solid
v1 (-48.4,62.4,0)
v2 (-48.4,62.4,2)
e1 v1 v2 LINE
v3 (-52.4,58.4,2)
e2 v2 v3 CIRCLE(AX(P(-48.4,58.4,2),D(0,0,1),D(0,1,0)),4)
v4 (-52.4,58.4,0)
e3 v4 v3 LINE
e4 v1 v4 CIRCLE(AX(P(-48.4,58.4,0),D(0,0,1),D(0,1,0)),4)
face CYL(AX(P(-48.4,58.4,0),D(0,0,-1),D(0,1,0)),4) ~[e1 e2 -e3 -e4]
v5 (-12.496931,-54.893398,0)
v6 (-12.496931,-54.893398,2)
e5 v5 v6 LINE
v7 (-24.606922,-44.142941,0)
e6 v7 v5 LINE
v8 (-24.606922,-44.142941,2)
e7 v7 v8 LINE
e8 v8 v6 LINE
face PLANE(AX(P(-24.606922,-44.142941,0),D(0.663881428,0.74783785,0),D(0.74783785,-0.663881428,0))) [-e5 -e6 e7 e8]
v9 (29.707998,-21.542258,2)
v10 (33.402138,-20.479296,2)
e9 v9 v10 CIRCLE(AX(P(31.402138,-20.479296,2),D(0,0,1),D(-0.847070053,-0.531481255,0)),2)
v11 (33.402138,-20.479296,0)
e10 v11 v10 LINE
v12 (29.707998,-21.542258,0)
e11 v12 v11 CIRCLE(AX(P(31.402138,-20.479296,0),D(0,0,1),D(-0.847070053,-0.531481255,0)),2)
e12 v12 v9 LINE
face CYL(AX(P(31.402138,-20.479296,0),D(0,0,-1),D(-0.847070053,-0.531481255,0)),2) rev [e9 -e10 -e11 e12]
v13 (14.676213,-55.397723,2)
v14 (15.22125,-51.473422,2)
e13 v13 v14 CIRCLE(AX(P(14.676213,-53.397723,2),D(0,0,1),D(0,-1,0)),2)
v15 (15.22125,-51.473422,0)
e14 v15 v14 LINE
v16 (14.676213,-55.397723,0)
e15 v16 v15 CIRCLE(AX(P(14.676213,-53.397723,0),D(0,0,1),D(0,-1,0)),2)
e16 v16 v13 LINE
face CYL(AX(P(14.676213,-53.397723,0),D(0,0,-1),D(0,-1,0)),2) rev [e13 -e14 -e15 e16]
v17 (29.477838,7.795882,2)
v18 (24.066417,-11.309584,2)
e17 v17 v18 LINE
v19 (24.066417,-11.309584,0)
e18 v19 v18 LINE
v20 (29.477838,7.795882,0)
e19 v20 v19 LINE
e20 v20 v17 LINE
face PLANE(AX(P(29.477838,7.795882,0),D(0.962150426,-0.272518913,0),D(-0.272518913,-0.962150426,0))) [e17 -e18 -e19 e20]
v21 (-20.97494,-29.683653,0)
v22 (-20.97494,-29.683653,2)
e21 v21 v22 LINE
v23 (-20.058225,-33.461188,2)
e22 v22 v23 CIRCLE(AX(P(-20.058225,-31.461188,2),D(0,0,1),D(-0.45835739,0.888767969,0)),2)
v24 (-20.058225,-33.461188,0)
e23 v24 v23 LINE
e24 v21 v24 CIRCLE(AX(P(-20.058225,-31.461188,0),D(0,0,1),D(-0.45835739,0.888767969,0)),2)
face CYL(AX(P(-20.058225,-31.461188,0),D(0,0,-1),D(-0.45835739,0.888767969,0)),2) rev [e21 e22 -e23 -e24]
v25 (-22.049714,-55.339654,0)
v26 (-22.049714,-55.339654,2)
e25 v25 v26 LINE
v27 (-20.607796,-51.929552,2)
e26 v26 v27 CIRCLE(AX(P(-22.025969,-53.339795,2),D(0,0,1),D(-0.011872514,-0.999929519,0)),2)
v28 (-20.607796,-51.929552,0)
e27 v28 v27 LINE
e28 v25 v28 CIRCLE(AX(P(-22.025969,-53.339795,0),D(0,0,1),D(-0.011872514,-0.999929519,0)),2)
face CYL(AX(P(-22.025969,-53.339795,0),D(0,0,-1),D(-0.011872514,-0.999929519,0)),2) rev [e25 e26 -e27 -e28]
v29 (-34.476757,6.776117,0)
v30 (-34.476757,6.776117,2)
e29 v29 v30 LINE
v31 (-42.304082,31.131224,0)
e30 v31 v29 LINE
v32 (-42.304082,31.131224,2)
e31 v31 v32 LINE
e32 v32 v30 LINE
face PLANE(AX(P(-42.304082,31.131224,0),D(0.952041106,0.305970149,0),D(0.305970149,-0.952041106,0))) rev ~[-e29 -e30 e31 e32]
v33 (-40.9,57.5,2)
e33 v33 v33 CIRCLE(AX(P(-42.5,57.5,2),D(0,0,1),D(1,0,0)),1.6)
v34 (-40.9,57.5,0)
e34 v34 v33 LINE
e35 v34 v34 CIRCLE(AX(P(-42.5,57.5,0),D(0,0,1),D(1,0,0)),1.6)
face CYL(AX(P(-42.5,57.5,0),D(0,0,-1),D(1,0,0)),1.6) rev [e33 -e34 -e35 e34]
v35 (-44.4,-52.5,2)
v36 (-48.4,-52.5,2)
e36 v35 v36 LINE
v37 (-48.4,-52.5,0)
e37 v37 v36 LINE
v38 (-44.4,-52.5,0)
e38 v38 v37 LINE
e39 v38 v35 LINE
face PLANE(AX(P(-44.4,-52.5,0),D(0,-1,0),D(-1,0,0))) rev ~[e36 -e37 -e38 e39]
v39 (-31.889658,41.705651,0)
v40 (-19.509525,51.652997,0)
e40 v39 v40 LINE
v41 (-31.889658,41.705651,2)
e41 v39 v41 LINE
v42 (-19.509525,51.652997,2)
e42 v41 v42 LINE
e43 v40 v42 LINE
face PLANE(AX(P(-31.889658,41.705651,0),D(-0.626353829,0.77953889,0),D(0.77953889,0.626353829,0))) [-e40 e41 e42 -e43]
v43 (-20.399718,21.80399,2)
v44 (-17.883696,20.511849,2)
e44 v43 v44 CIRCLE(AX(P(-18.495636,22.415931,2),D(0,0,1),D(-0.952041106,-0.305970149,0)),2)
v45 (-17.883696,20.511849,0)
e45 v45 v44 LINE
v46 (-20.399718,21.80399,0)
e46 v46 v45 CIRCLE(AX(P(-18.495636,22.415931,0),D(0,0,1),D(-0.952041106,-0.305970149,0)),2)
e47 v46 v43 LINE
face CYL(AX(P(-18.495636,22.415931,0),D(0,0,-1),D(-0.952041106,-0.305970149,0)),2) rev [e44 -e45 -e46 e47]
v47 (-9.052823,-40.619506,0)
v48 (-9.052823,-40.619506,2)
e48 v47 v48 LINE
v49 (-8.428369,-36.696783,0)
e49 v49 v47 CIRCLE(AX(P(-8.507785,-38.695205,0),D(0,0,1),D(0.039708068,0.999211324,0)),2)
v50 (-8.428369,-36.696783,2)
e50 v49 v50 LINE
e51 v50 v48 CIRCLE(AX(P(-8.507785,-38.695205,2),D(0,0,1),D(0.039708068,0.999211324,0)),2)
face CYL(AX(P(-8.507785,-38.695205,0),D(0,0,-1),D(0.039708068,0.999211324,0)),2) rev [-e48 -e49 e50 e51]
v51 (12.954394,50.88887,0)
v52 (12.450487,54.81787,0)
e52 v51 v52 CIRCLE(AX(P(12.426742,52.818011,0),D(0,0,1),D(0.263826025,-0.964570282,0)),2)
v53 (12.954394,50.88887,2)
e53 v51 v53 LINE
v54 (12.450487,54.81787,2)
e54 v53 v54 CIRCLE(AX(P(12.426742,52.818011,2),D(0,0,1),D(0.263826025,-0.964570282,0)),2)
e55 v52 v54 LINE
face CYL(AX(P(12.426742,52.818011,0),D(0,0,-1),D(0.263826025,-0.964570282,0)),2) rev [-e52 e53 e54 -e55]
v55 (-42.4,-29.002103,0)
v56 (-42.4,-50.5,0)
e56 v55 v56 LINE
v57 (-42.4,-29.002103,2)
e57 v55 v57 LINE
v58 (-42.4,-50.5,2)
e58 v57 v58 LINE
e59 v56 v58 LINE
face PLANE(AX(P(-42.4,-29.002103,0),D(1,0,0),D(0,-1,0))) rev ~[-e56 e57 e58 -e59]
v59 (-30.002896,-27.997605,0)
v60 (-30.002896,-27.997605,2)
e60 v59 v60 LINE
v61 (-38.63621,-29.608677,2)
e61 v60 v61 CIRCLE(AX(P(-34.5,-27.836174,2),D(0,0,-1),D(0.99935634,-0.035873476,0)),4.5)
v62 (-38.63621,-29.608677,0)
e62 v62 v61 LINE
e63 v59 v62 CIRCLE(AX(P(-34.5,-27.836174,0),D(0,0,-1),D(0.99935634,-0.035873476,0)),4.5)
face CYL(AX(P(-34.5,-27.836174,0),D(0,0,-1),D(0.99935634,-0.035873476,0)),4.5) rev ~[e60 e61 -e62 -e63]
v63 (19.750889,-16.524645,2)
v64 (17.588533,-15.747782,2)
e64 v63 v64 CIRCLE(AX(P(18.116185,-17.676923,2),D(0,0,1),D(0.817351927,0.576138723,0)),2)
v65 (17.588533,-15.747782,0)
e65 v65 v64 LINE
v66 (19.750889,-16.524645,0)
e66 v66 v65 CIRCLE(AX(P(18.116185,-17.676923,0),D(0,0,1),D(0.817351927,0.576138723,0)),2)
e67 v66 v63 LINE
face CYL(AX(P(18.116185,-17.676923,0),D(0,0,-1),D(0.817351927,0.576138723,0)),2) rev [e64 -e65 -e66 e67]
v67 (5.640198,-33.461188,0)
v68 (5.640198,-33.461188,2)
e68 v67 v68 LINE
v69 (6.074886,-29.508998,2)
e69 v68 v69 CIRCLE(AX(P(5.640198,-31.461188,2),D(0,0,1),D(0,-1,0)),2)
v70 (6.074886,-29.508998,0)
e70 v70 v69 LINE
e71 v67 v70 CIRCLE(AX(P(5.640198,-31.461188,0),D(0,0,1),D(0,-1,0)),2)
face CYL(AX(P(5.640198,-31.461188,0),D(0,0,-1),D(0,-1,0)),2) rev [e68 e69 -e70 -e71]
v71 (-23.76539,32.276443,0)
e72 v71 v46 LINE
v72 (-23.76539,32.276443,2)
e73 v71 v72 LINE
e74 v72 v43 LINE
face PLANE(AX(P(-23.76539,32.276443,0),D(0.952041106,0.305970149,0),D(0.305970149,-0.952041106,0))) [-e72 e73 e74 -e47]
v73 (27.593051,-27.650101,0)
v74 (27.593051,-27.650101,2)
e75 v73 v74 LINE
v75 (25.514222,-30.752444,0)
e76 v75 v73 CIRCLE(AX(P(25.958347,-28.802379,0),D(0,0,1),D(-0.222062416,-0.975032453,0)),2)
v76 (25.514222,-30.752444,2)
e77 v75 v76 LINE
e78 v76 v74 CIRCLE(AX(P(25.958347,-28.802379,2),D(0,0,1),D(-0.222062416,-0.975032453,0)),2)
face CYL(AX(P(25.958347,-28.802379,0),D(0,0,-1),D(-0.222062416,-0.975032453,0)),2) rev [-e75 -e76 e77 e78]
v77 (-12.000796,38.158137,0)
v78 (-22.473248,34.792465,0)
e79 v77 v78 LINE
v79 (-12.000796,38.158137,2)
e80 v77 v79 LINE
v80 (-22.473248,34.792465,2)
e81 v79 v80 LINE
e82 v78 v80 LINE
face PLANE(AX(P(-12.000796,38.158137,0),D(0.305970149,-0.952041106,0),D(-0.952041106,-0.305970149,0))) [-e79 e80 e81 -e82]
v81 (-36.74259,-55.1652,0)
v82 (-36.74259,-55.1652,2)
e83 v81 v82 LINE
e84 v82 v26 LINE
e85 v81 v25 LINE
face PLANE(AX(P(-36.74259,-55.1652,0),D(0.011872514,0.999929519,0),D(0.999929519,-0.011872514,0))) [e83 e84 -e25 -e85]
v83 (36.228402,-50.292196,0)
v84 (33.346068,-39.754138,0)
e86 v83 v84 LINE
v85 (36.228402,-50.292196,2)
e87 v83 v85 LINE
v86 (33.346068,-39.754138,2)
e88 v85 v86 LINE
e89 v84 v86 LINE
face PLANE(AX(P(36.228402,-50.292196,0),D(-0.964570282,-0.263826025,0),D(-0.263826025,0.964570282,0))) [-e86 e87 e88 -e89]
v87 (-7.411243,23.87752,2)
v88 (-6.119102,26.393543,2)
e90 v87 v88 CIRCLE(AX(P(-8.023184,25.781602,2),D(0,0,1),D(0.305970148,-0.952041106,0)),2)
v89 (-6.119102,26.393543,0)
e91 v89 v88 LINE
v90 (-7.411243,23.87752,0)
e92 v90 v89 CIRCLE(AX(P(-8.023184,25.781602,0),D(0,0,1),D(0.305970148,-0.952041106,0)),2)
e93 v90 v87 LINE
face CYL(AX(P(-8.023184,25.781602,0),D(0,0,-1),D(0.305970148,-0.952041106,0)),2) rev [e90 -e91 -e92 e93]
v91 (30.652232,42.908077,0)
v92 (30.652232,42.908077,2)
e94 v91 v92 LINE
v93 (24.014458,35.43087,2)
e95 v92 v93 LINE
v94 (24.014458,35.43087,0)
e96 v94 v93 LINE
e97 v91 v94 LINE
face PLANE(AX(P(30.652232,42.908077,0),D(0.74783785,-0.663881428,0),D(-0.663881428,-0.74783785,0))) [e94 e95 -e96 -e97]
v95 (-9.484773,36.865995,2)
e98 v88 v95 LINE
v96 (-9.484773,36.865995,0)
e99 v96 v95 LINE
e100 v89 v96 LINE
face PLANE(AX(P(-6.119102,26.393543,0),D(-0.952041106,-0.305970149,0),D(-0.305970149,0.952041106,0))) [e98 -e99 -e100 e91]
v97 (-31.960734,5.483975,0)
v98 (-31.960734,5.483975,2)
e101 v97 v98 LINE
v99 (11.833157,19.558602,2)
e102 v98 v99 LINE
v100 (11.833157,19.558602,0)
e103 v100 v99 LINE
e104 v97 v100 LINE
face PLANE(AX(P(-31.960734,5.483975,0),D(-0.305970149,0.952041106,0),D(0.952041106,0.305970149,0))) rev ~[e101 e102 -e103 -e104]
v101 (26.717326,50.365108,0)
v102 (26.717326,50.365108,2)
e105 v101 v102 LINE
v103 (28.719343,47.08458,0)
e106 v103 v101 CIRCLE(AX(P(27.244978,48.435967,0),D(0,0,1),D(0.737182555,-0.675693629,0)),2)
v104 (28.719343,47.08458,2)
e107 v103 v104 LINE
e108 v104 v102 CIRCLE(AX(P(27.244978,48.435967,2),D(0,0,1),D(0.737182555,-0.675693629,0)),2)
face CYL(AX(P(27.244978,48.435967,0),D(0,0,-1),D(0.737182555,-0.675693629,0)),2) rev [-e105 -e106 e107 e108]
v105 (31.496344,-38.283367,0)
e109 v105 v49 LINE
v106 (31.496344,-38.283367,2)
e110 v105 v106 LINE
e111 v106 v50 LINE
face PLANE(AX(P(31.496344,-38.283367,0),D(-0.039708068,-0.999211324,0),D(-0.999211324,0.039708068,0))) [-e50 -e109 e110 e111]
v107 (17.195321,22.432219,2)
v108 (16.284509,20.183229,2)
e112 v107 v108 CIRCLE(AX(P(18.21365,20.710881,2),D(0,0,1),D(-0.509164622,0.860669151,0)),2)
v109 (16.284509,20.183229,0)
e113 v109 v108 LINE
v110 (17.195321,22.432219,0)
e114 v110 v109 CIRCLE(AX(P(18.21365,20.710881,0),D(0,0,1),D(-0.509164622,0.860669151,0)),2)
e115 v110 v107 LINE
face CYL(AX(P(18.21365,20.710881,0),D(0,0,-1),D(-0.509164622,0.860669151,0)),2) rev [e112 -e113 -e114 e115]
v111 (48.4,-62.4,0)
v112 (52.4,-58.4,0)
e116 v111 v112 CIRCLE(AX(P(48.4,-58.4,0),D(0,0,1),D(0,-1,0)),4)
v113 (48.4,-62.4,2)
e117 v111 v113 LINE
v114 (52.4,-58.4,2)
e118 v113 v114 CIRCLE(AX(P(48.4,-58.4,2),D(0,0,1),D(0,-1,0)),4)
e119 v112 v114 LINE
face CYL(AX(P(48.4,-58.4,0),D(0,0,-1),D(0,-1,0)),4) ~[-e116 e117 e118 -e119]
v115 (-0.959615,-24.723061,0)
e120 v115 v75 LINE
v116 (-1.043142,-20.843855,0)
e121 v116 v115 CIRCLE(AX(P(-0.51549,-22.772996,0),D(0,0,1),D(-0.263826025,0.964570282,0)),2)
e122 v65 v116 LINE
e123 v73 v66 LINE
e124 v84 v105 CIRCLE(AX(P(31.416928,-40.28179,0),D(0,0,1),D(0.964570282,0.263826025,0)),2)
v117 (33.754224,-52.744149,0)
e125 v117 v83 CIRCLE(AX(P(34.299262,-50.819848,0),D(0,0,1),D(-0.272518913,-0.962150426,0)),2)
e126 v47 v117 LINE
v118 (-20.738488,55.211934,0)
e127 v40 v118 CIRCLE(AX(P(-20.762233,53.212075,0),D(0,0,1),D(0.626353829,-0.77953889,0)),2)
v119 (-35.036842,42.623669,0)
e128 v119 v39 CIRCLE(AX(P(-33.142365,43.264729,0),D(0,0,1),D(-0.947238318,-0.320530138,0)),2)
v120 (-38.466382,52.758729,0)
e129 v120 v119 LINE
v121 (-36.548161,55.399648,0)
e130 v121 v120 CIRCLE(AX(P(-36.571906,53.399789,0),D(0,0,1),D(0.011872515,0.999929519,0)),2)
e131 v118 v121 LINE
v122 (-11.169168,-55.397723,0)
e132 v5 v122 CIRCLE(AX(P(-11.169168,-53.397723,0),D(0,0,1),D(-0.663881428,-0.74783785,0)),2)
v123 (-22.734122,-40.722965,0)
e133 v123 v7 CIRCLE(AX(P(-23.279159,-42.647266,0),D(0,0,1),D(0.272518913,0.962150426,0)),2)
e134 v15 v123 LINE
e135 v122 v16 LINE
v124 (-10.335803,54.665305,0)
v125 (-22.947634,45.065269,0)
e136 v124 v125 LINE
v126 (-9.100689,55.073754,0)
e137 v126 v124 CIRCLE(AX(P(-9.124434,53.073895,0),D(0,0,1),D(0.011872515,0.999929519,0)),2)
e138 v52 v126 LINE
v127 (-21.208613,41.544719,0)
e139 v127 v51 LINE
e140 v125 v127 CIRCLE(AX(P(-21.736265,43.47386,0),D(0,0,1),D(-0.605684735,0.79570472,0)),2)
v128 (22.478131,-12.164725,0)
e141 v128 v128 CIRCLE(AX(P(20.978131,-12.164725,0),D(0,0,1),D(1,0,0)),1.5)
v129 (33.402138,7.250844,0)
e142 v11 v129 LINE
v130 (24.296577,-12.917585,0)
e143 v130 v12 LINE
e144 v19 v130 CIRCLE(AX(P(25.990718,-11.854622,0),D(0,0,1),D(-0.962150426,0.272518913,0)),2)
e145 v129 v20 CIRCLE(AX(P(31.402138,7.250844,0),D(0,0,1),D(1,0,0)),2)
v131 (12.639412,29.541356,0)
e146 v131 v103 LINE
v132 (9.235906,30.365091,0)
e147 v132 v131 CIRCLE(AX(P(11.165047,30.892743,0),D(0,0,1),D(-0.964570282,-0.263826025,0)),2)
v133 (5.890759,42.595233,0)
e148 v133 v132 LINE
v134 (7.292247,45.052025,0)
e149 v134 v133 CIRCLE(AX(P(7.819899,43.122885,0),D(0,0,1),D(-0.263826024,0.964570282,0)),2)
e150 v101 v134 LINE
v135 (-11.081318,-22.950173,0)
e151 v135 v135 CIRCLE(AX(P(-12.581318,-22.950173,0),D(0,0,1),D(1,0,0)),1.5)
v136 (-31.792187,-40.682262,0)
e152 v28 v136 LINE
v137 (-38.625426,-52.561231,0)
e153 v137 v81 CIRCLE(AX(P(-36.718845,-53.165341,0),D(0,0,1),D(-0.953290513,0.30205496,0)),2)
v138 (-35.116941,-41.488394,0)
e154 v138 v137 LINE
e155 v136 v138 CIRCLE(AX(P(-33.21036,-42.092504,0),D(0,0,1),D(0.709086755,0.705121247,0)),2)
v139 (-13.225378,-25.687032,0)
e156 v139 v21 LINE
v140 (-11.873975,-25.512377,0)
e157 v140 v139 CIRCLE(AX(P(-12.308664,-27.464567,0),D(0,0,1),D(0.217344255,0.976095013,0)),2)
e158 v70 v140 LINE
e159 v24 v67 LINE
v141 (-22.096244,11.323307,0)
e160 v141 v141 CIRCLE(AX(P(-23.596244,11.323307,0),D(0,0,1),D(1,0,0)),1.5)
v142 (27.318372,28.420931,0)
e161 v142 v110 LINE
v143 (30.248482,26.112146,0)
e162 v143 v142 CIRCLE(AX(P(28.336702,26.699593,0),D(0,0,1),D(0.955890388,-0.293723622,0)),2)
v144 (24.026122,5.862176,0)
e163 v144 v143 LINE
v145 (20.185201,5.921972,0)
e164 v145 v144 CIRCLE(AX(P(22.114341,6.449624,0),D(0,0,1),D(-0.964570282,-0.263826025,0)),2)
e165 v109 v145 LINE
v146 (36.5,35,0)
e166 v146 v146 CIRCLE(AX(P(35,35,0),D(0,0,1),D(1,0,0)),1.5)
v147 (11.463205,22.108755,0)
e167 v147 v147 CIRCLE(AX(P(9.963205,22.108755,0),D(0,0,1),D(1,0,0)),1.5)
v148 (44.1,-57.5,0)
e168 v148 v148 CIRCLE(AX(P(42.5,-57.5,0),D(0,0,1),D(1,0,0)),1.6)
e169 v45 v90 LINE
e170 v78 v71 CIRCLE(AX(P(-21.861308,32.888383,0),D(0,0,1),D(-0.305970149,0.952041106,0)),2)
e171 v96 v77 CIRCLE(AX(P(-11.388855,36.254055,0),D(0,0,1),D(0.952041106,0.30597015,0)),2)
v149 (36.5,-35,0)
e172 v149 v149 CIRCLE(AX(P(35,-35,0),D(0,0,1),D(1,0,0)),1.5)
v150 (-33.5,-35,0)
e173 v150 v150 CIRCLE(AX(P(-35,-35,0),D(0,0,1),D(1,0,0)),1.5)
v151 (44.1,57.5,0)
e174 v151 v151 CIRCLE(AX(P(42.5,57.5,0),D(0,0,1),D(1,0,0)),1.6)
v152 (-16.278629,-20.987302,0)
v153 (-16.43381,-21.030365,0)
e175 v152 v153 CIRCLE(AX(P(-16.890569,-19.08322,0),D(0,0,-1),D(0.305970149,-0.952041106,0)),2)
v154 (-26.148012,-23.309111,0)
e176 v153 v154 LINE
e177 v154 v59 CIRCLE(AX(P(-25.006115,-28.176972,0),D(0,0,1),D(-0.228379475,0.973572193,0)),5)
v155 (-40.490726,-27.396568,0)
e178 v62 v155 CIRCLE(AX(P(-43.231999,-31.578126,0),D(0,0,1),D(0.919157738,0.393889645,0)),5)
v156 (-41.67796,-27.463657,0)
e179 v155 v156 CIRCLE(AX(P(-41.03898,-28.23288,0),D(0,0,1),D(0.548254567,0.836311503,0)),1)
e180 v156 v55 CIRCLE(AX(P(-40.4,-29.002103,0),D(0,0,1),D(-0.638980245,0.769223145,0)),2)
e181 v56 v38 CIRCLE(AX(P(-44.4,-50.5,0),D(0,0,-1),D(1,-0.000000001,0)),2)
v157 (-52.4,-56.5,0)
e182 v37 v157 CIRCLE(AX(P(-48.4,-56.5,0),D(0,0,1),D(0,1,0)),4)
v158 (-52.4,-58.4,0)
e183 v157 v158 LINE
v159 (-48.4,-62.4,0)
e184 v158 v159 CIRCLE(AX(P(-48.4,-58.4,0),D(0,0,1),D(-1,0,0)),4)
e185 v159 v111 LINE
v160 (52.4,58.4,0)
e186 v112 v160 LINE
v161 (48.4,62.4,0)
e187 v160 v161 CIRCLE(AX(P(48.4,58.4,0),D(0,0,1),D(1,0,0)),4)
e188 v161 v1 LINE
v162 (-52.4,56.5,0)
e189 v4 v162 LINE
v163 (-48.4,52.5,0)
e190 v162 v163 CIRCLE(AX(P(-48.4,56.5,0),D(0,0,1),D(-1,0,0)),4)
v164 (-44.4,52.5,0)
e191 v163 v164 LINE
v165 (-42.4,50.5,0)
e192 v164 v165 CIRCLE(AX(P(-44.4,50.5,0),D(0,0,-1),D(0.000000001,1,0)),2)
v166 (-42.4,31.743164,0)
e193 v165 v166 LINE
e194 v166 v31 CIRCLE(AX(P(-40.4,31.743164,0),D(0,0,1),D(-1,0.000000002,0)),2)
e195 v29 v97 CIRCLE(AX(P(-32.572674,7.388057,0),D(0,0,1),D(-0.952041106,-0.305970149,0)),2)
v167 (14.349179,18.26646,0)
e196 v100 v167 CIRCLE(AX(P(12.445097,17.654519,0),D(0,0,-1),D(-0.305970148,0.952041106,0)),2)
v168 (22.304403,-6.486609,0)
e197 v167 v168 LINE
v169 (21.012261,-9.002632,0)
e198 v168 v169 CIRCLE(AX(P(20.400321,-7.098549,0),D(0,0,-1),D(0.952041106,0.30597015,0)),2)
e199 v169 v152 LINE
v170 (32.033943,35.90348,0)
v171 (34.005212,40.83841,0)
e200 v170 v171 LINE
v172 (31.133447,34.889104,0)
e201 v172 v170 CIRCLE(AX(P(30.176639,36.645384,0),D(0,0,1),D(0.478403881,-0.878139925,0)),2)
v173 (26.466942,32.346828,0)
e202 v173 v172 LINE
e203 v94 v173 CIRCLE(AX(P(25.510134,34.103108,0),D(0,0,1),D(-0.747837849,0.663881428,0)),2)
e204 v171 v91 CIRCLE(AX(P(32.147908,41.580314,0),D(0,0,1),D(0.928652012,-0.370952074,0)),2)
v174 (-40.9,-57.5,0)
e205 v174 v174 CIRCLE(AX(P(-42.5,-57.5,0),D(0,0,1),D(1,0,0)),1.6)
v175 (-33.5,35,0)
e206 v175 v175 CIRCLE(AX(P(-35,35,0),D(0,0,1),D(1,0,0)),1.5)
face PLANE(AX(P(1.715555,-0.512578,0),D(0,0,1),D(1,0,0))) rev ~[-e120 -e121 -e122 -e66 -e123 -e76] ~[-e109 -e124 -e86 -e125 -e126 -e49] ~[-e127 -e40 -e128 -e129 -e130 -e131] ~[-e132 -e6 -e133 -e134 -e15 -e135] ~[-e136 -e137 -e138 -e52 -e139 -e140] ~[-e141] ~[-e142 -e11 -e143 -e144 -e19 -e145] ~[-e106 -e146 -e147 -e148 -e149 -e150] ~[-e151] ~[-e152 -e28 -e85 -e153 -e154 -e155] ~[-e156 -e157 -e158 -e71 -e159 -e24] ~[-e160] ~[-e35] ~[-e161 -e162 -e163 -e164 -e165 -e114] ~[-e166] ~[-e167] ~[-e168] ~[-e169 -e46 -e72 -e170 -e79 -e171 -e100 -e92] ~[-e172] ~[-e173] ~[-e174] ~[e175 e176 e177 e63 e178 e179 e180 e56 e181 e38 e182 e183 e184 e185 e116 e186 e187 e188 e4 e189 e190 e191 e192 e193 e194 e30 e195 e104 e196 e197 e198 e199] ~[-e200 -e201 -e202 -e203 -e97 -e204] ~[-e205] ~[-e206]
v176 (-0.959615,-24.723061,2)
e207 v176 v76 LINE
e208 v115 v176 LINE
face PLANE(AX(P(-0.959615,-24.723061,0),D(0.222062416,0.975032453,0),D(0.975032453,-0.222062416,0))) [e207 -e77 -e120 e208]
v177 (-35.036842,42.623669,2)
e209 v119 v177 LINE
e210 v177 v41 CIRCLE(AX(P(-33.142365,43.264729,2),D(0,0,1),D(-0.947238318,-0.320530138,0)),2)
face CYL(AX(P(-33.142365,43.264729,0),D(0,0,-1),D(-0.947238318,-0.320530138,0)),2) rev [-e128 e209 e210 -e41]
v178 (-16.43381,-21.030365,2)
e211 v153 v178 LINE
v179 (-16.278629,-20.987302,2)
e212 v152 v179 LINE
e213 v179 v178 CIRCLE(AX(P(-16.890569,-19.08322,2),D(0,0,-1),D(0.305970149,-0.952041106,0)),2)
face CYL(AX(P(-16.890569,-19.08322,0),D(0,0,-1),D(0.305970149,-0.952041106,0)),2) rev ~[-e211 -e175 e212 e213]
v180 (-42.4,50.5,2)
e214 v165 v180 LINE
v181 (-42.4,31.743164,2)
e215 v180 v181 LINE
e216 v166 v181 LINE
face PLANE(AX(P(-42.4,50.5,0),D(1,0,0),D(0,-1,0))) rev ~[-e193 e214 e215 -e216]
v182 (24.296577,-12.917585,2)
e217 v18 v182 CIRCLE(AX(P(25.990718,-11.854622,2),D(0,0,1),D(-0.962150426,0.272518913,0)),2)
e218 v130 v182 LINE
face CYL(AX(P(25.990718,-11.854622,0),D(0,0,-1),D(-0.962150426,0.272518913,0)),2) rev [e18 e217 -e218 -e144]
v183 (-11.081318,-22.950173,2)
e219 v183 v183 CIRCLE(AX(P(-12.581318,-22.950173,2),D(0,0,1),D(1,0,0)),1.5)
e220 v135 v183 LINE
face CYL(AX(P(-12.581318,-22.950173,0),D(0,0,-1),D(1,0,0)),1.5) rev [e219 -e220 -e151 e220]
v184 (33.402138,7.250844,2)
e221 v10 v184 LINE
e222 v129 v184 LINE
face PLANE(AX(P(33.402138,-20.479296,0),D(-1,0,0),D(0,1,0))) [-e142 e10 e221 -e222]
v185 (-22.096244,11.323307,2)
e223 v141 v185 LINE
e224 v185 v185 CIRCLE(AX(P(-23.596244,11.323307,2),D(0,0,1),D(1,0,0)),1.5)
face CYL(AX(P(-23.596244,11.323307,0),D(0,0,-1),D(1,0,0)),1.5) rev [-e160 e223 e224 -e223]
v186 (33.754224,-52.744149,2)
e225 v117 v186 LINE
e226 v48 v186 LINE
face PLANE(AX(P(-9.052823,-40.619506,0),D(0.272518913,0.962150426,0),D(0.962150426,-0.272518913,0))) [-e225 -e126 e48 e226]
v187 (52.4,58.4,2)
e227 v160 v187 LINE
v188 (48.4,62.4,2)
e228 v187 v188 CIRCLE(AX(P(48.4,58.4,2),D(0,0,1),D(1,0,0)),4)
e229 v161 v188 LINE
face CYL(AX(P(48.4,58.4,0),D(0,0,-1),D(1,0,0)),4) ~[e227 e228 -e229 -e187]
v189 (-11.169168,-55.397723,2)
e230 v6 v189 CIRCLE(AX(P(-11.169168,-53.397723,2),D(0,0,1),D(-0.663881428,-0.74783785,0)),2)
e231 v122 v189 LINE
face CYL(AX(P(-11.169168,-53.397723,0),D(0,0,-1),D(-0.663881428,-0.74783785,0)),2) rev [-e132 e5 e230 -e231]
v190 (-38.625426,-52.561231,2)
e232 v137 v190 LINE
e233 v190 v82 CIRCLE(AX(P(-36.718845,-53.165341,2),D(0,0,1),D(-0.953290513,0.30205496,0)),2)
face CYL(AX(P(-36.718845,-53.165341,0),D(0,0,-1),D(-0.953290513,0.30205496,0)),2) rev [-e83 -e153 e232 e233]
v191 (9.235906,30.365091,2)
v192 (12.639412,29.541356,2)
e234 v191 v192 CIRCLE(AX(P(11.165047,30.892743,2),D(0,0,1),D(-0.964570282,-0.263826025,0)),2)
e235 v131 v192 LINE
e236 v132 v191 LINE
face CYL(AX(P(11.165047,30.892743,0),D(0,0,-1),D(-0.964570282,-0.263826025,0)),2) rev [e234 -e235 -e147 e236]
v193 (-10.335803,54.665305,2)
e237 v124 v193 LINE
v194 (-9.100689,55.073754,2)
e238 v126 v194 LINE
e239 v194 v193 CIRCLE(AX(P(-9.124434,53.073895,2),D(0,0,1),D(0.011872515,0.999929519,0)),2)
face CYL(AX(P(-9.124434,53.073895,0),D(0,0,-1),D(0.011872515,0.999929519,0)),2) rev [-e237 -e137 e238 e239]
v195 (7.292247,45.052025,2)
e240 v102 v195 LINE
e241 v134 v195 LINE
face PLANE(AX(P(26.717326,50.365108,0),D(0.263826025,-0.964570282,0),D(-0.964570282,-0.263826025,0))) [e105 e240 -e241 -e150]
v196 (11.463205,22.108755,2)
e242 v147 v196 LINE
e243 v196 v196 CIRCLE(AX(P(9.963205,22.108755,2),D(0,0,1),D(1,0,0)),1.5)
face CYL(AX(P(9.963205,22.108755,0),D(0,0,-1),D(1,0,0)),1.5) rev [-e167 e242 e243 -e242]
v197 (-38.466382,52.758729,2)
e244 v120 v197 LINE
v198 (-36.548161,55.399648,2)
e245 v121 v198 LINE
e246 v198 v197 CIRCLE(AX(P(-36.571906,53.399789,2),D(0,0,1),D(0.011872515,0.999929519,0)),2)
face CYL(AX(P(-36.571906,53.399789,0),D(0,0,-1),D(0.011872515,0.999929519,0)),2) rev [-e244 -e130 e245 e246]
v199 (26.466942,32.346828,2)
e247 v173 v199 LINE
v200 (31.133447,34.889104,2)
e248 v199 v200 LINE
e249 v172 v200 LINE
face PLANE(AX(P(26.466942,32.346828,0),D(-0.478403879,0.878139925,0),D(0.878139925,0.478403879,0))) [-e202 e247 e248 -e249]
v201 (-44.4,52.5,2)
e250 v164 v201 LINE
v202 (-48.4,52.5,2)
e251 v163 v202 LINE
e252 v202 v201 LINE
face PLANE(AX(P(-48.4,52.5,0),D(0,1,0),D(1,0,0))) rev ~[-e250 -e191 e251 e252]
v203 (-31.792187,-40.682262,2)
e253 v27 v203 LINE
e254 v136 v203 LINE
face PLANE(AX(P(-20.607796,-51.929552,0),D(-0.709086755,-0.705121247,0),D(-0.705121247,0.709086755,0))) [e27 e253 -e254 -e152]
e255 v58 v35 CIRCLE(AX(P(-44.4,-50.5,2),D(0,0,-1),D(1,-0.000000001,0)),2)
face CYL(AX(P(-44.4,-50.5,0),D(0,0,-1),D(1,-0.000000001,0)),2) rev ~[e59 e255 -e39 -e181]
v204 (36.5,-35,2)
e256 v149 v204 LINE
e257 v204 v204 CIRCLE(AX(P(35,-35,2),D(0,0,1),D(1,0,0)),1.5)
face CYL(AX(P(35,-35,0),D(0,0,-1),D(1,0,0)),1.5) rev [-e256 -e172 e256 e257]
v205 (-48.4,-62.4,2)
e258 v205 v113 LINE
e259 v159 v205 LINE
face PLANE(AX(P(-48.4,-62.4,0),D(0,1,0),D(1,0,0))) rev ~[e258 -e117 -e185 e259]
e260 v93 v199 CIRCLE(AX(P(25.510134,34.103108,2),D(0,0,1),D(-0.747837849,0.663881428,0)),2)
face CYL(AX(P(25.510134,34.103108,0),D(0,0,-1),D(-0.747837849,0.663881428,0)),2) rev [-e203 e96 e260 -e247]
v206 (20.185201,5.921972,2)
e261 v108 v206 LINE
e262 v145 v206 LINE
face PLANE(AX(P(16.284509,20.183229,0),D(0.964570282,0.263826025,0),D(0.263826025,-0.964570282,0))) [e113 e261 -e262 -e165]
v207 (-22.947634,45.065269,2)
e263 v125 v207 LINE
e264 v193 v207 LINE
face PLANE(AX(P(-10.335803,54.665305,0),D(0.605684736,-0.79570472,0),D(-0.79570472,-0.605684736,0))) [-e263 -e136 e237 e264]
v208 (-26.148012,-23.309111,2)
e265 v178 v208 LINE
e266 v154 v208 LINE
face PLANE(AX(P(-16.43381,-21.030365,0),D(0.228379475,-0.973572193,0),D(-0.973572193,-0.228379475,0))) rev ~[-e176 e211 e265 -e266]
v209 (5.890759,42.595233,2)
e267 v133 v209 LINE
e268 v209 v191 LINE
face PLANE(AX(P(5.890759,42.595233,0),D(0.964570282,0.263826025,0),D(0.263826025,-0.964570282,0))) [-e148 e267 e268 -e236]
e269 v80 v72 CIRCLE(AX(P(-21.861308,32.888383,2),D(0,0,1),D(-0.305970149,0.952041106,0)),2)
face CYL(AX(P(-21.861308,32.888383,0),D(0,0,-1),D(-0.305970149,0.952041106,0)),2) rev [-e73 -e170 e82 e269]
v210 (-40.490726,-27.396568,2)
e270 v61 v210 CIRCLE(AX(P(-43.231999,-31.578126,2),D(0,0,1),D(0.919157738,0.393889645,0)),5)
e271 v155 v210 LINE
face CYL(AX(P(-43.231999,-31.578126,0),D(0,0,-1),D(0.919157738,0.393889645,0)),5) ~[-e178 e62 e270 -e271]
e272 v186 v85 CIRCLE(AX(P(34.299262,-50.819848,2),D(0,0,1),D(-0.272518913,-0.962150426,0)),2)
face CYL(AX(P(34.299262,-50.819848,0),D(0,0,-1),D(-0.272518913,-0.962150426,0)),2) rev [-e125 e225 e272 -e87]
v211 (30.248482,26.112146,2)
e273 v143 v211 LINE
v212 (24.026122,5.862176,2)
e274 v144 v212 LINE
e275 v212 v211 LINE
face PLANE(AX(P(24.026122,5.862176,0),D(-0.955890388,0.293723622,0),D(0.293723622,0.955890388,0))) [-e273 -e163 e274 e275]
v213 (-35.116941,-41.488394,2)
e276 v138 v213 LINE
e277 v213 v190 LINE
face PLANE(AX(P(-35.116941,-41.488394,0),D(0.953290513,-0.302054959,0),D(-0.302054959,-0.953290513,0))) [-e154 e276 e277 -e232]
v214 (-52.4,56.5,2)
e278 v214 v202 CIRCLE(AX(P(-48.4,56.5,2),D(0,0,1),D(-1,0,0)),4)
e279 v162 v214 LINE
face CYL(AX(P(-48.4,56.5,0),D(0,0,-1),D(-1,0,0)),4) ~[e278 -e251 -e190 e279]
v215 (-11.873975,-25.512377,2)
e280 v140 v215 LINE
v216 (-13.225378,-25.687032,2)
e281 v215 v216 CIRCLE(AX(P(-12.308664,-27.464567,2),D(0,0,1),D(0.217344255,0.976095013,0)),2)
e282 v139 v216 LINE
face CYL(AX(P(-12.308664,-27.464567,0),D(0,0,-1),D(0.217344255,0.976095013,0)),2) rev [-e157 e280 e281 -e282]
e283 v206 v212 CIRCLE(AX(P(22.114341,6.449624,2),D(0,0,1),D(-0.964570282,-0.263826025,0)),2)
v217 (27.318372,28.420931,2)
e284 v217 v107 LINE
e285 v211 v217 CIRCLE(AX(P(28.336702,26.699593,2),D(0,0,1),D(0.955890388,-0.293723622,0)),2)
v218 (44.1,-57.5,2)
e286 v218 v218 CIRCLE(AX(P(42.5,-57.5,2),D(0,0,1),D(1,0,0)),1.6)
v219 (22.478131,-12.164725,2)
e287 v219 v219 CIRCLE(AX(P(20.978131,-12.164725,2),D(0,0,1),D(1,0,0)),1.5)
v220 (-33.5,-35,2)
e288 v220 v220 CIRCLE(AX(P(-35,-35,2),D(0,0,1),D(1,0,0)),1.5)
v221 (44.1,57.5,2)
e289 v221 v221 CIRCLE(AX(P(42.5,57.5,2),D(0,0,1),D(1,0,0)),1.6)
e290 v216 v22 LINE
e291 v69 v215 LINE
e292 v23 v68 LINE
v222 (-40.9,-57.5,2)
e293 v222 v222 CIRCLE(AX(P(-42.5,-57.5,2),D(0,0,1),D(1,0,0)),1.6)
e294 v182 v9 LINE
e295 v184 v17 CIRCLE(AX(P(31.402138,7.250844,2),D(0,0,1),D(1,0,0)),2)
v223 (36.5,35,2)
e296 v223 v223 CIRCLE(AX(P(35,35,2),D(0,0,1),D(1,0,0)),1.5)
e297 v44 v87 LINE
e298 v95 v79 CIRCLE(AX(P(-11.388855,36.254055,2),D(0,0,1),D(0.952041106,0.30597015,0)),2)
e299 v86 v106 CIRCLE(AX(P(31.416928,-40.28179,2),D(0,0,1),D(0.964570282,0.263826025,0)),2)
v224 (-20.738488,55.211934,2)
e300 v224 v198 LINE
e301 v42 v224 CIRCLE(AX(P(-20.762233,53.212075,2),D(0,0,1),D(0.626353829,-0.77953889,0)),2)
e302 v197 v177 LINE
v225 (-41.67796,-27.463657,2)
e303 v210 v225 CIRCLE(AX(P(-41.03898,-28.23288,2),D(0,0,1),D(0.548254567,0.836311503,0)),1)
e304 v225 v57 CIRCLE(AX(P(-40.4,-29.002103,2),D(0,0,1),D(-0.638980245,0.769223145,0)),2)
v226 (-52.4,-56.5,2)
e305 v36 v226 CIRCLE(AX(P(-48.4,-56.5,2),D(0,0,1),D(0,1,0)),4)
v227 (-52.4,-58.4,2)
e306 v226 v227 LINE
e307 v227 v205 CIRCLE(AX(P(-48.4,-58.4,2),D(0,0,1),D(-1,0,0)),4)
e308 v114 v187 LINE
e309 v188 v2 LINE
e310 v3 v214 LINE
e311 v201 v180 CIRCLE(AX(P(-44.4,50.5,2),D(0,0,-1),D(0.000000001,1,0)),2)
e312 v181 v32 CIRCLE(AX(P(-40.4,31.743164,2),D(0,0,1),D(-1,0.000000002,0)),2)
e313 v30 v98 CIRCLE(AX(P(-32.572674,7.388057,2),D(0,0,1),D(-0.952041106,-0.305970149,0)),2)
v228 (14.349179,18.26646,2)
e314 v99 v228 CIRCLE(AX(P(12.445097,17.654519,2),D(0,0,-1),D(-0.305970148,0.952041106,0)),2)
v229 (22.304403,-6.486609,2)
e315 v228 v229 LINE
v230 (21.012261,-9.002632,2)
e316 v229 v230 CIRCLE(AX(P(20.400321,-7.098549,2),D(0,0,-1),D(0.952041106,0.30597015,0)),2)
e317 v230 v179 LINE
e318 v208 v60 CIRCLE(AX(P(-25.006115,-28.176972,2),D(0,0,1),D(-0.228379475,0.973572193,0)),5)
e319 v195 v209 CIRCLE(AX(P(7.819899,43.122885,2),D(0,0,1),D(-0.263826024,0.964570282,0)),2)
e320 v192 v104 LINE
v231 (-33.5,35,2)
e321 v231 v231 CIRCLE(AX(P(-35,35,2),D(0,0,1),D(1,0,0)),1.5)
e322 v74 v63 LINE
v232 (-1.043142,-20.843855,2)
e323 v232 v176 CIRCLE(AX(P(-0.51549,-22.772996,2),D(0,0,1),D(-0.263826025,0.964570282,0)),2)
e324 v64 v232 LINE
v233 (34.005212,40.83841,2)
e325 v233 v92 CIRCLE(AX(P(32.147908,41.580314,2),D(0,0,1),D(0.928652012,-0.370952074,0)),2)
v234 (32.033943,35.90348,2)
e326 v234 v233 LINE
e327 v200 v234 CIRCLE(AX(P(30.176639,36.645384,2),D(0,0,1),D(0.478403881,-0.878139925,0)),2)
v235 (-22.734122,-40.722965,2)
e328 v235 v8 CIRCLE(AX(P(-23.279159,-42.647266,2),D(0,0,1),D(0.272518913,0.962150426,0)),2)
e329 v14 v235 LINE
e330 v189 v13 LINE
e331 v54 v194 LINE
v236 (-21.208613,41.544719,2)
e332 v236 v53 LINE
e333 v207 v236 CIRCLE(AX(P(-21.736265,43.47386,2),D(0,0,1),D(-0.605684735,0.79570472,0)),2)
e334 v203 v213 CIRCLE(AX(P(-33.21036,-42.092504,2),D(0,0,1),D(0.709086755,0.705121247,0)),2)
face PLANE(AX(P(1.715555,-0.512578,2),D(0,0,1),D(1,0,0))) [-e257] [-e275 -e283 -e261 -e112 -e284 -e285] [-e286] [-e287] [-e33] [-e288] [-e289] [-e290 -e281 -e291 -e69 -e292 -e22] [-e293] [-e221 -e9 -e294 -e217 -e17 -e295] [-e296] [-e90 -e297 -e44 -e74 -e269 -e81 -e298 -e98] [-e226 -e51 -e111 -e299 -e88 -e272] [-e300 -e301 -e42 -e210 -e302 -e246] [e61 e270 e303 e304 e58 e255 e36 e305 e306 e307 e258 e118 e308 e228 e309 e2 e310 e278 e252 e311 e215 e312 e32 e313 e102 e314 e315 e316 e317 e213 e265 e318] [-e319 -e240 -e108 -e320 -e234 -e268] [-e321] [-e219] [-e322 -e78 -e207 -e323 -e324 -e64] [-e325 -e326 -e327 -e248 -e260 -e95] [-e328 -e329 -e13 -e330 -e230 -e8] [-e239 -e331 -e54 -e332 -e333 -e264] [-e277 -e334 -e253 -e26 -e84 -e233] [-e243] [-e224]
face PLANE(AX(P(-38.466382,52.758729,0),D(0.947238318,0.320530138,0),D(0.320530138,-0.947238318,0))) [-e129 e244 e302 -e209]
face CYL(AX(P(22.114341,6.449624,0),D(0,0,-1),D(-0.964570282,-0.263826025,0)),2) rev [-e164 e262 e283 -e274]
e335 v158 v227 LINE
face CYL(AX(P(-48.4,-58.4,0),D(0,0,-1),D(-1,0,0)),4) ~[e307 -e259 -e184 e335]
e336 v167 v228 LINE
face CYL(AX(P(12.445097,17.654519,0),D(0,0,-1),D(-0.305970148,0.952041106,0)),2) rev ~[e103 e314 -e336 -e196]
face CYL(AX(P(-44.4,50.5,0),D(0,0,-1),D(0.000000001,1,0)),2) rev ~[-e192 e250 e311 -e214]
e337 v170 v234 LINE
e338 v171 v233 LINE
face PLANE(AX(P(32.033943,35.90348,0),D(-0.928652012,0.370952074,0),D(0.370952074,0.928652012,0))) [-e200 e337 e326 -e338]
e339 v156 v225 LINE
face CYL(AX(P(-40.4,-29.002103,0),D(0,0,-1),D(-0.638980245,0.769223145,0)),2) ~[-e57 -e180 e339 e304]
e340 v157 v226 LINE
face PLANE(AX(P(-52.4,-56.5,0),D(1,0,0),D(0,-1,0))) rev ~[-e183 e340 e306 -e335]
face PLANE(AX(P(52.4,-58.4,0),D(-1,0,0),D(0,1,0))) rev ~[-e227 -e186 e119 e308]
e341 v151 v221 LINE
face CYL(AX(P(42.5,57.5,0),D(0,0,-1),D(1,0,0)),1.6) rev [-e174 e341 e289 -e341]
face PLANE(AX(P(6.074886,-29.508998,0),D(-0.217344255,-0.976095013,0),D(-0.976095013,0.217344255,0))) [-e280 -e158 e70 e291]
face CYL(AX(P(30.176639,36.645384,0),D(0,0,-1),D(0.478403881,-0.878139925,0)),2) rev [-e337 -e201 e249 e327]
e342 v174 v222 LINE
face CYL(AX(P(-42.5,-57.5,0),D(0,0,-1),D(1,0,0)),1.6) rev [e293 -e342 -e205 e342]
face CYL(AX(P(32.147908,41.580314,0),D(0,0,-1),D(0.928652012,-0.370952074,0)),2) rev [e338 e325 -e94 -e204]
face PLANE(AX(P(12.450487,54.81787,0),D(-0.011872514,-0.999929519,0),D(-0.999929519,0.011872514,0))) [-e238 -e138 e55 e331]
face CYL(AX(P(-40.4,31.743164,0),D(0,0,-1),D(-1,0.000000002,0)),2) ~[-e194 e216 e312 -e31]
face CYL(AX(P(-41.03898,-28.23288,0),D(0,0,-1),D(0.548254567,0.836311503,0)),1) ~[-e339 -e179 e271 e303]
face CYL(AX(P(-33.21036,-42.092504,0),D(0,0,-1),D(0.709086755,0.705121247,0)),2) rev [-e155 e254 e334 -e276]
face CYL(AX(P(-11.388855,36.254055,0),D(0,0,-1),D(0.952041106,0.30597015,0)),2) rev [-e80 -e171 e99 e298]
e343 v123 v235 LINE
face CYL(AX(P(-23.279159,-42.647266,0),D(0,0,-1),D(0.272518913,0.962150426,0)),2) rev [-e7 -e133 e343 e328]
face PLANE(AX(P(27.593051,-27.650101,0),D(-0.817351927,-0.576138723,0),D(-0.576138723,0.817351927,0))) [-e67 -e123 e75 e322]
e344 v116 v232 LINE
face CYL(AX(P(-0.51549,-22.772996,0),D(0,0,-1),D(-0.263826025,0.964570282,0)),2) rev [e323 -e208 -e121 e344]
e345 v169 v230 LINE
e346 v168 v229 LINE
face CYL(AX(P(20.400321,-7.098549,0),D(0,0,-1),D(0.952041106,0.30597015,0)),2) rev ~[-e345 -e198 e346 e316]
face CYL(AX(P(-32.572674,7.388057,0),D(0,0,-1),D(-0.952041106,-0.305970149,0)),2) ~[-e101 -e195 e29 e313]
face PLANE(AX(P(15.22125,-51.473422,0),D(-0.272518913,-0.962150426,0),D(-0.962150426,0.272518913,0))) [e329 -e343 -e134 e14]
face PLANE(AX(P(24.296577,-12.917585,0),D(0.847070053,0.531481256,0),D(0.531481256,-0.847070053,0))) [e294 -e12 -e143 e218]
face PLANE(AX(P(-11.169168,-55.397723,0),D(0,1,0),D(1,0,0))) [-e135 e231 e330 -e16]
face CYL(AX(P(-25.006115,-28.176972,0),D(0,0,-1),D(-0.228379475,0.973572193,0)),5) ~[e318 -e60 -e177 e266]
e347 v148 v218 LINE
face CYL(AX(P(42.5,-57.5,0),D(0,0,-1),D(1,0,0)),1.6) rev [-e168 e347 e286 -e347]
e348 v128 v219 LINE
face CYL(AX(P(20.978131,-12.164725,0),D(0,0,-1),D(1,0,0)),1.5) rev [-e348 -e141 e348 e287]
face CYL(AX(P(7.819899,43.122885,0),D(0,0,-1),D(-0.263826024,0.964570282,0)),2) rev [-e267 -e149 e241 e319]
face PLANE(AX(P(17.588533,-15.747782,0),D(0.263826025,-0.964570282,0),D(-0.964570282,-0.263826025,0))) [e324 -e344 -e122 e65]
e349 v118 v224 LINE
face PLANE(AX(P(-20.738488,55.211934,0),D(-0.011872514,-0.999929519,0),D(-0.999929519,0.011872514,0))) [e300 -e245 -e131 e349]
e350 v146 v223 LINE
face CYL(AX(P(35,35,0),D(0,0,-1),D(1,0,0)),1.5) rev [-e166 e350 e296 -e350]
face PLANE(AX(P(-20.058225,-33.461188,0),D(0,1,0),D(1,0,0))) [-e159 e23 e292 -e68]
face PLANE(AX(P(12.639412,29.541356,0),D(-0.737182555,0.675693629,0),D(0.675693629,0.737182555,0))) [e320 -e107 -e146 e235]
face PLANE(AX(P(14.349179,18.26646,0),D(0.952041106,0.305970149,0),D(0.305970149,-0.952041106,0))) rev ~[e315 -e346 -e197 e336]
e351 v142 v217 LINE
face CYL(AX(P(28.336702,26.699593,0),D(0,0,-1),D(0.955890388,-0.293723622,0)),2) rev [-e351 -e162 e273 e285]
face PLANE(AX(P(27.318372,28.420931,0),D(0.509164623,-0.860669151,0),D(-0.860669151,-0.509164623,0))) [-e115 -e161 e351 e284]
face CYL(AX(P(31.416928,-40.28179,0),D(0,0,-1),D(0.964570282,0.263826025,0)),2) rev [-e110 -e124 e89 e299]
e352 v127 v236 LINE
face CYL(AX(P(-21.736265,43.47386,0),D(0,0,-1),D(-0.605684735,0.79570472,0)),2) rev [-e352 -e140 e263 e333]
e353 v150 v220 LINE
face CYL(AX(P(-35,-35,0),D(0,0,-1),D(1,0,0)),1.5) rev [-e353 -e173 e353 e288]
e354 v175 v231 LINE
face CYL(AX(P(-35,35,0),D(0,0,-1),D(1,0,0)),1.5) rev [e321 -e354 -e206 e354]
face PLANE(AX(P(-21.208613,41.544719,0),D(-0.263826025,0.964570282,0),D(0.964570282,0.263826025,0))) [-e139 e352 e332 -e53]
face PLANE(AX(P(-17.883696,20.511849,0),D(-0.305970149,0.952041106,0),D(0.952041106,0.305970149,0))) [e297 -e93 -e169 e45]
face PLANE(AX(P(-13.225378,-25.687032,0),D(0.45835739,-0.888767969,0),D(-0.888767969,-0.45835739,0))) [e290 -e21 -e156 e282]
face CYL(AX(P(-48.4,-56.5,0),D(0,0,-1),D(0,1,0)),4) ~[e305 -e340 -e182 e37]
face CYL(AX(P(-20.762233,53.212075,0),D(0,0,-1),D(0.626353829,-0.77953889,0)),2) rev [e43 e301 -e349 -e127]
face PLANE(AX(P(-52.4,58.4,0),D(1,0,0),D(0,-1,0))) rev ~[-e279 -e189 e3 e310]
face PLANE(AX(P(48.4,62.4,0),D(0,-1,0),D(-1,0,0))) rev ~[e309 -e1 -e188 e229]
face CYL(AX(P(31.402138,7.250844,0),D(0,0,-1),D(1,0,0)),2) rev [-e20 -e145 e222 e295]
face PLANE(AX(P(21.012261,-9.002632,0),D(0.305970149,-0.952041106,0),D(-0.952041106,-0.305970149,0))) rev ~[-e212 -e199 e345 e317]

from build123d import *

# Parameters (mm, degrees)
SKETCH_1_R      = 1.6
SKETCH_1_R_2    = 1.5
EXTRUDE_1_DEPTH = 2


with BuildPart() as part:
    # 草图1 → 凸台-拉伸1 (new body)
    with BuildSketch(Plane.XY):
        with BuildLine():
            Line((-44.4, -52.5), (-48.4, -52.5))
            ThreePointArc((-48.4, -52.5), (-51.228427125, -53.671572875), (-52.4, -56.5))
            Line((-52.4, -56.5), (-52.4, -58.4))
            ThreePointArc((-52.4, -58.4), (-51.228427125, -61.228427125), (-48.4, -62.4))
            Line((-48.4, -62.4), (48.4, -62.4))
            ThreePointArc((48.4, -62.4), (51.228427125, -61.228427125), (52.4, -58.4))
            Line((52.4, -58.4), (52.4, 58.4))
            ThreePointArc((52.4, 58.4), (51.228427125, 61.228427125), (48.4, 62.4))
            Line((48.4, 62.4), (-48.4, 62.4))
            ThreePointArc((-48.4, 62.4), (-51.228427125, 61.228427125), (-52.4, 58.4))
            Line((-52.4, 58.4), (-52.4, 56.5))
            ThreePointArc((-52.4, 56.5), (-51.228427125, 53.671572875), (-48.4, 52.5))
            Line((-48.4, 52.5), (-44.4, 52.5))
            ThreePointArc((-44.4, 52.5), (-42.985786438, 51.914213562), (-42.4, 50.5))
            Line((-42.4, 50.5), (-42.4, 31.743164199))
            ThreePointArc((-42.4, 31.743164199), (-42.37587505, 31.433458229), (-42.304082212, 31.1312239))
            Line((-42.304082212, 31.1312239), (-34.476756551, 6.776116715))
            ThreePointArc((-34.476756551, 6.776116715), (-33.486356648, 5.608960434), (-31.96073404, 5.483974801))
            Line((-31.96073404, 5.483974801), (11.833156842, 19.558601667))
            ThreePointArc((11.833156842, 19.558601667), (13.35877945, 19.433616033), (14.349179353, 18.266459753))
            Line((14.349179353, 18.266459753), (22.304403233, -6.486609007))
            ThreePointArc((22.304403233, -6.486609007), (22.1794176, -8.012231615), (21.01226132, -9.002631517))
            Line((21.01226132, -9.002631517), (-16.278628995, -20.987302349))
            ThreePointArc((-16.278628995, -20.987302349), (-16.355786059, -21.010396022), (-16.433810344, -21.030364524))
            Line((-16.433810344, -21.030364524), (-26.148012146, -23.309111102))
            ThreePointArc((-26.148012146, -23.309111102), (-28.868282326, -25.00149387), (-30.002896471, -27.997604687))
            ThreePointArc((-30.002896471, -27.997604687), (-33.674500198, -32.259809436), (-38.636209823, -29.608677444))
            ThreePointArc((-38.636209823, -29.608677444), (-39.400357242, -28.365879544), (-40.490725679, -27.396568153))
            ThreePointArc((-40.490725679, -27.396568153), (-41.09539832, -27.234472424), (-41.677960491, -27.463656512))
            ThreePointArc((-41.677960491, -27.463656512), (-42.210513875, -28.15237372), (-42.4, -29.0021028))
            Line((-42.4, -29.0021028), (-42.4, -50.5))
            ThreePointArc((-42.4, -50.5), (-42.985786438, -51.914213562), (-44.4, -52.5))
        make_face()
        with Locations((-42.5, 57.5)):
            Circle(SKETCH_1_R, mode=Mode.SUBTRACT)
        with Locations((-23.596243703, 11.323307075)):
            Circle(SKETCH_1_R_2, mode=Mode.SUBTRACT)
        with Locations((-35, 35)):
            Circle(SKETCH_1_R_2, mode=Mode.SUBTRACT)
        with Locations((35, 35)):
            Circle(SKETCH_1_R_2, mode=Mode.SUBTRACT)
        with Locations((42.5, 57.5)):
            Circle(SKETCH_1_R, mode=Mode.SUBTRACT)
        with Locations((-42.5, -57.5)):
            Circle(SKETCH_1_R, mode=Mode.SUBTRACT)
        with Locations((42.5, -57.5)):
            Circle(SKETCH_1_R, mode=Mode.SUBTRACT)
        with Locations((35, -35)):
            Circle(SKETCH_1_R_2, mode=Mode.SUBTRACT)
        with Locations((-35, -35)):
            Circle(SKETCH_1_R_2, mode=Mode.SUBTRACT)
        with Locations((-12.58131833, -22.950172746)):
            Circle(SKETCH_1_R_2, mode=Mode.SUBTRACT)
        with Locations((20.978130661, -12.164724985)):
            Circle(SKETCH_1_R_2, mode=Mode.SUBTRACT)
        with Locations((9.963205288, 22.108754836)):
            Circle(SKETCH_1_R_2, mode=Mode.SUBTRACT)
        with BuildLine():
            Line((36.228402422, -50.292195812), (33.346068176, -39.754137802))
            ThreePointArc((33.346068176, -39.754137802), (32.661663143, -38.71633993), (31.496343748, -38.283367205))
            Line((31.496343748, -38.283367205), (-8.428369276, -36.696782686))
            ThreePointArc((-8.428369276, -36.696782686), (-10.482915991, -38.380786509), (-9.052823237, -40.619506186))
            Line((-9.052823237, -40.619506186), (33.754224033, -52.744148714))
            ThreePointArc((33.754224033, -52.744148714), (35.70708051, -52.240427548), (36.228402422, -50.292195812))
        make_face(mode=Mode.SUBTRACT)
        with BuildLine():
            Line((-11.169167715, -55.39772262), (14.676212639, -55.39772262))
            ThreePointArc((14.676212639, -55.39772262), (16.657197457, -53.672857401), (15.221250464, -51.473421768))
            Line((15.221250464, -51.473421768), (-22.734121612, -40.722964827))
            ThreePointArc((-22.734121612, -40.722964827), (-25.033361399, -41.686653646), (-24.606922294, -44.142941378))
            Line((-24.606922294, -44.142941378), (-12.496930572, -54.893398319))
            ThreePointArc((-12.496930572, -54.893398319), (-11.879325656, -55.267395238), (-11.169167715, -55.39772262))
        make_face(mode=Mode.SUBTRACT)
        with BuildLine():
            Line((-36.742590149, -55.165200028), (-22.049714315, -55.339653699))
            ThreePointArc((-22.049714315, -55.339653699), (-20.183876505, -54.118700422), (-20.607795776, -51.929552166))
            Line((-20.607795776, -51.929552166), (-31.792186791, -40.682261625))
            ThreePointArc((-31.792186791, -40.682261625), (-33.681632949, -40.148821509), (-35.116941327, -41.488394201))
            Line((-35.116941327, -41.488394201), (-38.625426146, -52.561231071))
            ThreePointArc((-38.625426146, -52.561231071), (-38.339555845, -54.337218436), (-36.742590149, -55.165200028))
        make_face(mode=Mode.SUBTRACT)
        with BuildLine():
            Line((-13.225378494, -25.687031503), (-20.97493997, -29.683652555))
            ThreePointArc((-20.97493997, -29.683652555), (-22.001813607, -31.932849454), (-20.05822519, -33.461188493))
            Line((-20.05822519, -33.461188493), (5.640197545, -33.461188493))
            ThreePointArc((5.640197545, -33.461188493), (7.628209121, -31.679843412), (6.074886055, -29.508998467))
            Line((6.074886055, -29.508998467), (-11.873975203, -25.512377414))
            ThreePointArc((-11.873975203, -25.512377414), (-12.565009854, -25.481063809), (-13.225378494, -25.687031503))
        make_face(mode=Mode.SUBTRACT)
        with BuildLine():
            Line((17.588533005, -15.747781939), (-1.043142169, -20.843855178))
            ThreePointArc((-1.043142169, -20.843855178), (-2.515026651, -22.816049848), (-0.959614951, -24.723060647))
            Line((-0.959614951, -24.723060647), (25.514222239, -30.752443796))
            ThreePointArc((25.514222239, -30.752443796), (27.619822805, -29.915706508), (27.593050924, -27.650101445))
            Line((27.593050924, -27.650101445), (19.750888908, -16.524645057))
            ThreePointArc((19.750888908, -16.524645057), (18.792402475, -15.794708381), (17.588533005, -15.747781939))
        make_face(mode=Mode.SUBTRACT)
        with BuildLine():
            Line((29.477837532, 7.795881804), (24.066416739, -11.309584207))
            ThreePointArc((24.066416739, -11.309584207), (24.010895626, -12.138003378), (24.296577485, -12.917584543))
            Line((24.296577485, -12.917584543), (29.707998278, -21.542258413))
            ThreePointArc((29.707998278, -21.542258413), (31.955184399, -22.401310498), (33.402138384, -20.479295902))
            Line((33.402138384, -20.479295902), (33.402138384, 7.250843979))
            ThreePointArc((33.402138384, 7.250843979), (31.677273166, 9.231828797), (29.477837532, 7.795881804))
        make_face(mode=Mode.SUBTRACT)
        with BuildLine():
            Line((24.026121987, 5.86217634), (30.248482278, 26.112145879))
            ThreePointArc((30.248482278, 26.112145879), (29.574516748, 28.270520689), (27.318372256, 28.420931424))
            Line((27.318372256, 28.420931424), (17.195320702, 22.43221936))
            ThreePointArc((17.195320702, 22.43221936), (16.359901321, 21.461624711), (16.284509384, 20.183229009))
            Line((16.284509384, 20.183229009), (20.185200647, 5.921971534))
            ThreePointArc((20.185200647, 5.921971534), (22.083209124, 4.4498659), (24.026121987, 5.86217634))
        make_face(mode=Mode.SUBTRACT)
        with BuildLine():
            Line((26.466941663, 32.346827687), (31.13344693, 34.889103877))
            ThreePointArc((31.13344693, 34.889103877), (31.67231487, 35.317620871), (32.033943195, 35.903479579))
            Line((32.033943195, 35.903479579), (34.005211961, 40.838410083))
            ThreePointArc((34.005211961, 40.838410083), (33.198419308, 43.282203141), (30.652232239, 42.908077088))
            Line((30.652232239, 42.908077088), (24.014458205, 35.430870394))
            ThreePointArc((24.014458205, 35.430870394), (23.944750718, 32.85828808), (26.466941663, 32.346827687))
        make_face(mode=Mode.SUBTRACT)
        with BuildLine():
            Line((12.639411879, 29.541355608), (28.719343057, 47.084579709))
            ThreePointArc((28.719343057, 47.084579709), (28.952178023, 49.477824874), (26.717325897, 50.365107531))
            Line((26.717325897, 50.365107531), (7.292247383, 45.052025274))
            ThreePointArc((7.292247383, 45.052025274), (6.082684716, 44.113886743), (5.89075887, 42.595232661))
            Line((5.89075887, 42.595232661), (9.235906205, 30.365090816))
            ThreePointArc((9.235906205, 30.365090816), (10.694578809, 28.948865324), (12.639411879, 29.541355608))
        make_face(mode=Mode.SUBTRACT)
        with BuildLine():
            Line((-6.119101541, 26.393542701), (-9.484773183, 36.865994869))
            ThreePointArc((-9.484773183, 36.865994869), (-10.475173086, 38.033151149), (-12.000795694, 38.158136783))
            Line((-12.000795694, 38.158136783), (-22.473247861, 34.792465141))
            ThreePointArc((-22.473247861, 34.792465141), (-23.640404142, 33.802065238), (-23.765389775, 32.27644263))
            Line((-23.765389775, 32.27644263), (-20.399718133, 21.803990463))
            ThreePointArc((-20.399718133, 21.803990463), (-19.40931823, 20.636834182), (-17.883695622, 20.511848549))
            Line((-17.883695622, 20.511848549), (-7.411243455, 23.877520191))
            ThreePointArc((-7.411243455, 23.877520191), (-6.244087174, 24.867920093), (-6.119101541, 26.393542701))
        make_face(mode=Mode.SUBTRACT)
        with BuildLine():
            Line((-21.208612958, 41.544719282), (12.954393861, 50.888870206))
            ThreePointArc((12.954393861, 50.888870206), (14.410493094, 53.072433346), (12.450486839, 54.817869808))
            Line((12.450486839, 54.817869808), (-9.100688804, 55.073754479))
            ThreePointArc((-9.100688804, 55.073754479), (-9.752383451, 54.972758068), (-10.335803304, 54.66530488))
            Line((-10.335803304, 54.66530488), (-22.947634479, 45.065269285))
            ThreePointArc((-22.947634479, 45.065269285), (-23.529428542, 42.588103366), (-21.208612958, 41.544719282))
        make_face(mode=Mode.SUBTRACT)
        with BuildLine():
            Line((-38.466382383, 52.758728631), (-35.036841892, 42.623668672))
            ThreePointArc((-35.036841892, 42.623668672), (-33.702415155, 41.344743502), (-31.889657598, 41.705651167))
            Line((-31.889657598, 41.705651167), (-19.509525421, 51.652997335))
            ThreePointArc((-19.509525421, 51.652997335), (-18.871772637, 53.864883905), (-20.738488051, 55.211934154))
            Line((-20.738488051, 55.211934154), (-36.548160719, 55.399647945))
            ThreePointArc((-36.548160719, 55.399647945), (-38.190090809, 54.57515145), (-38.466382383, 52.758728631))
        make_face(mode=Mode.SUBTRACT)
    extrude(amount=EXTRUDE_1_DEPTH)


solid = part.part
